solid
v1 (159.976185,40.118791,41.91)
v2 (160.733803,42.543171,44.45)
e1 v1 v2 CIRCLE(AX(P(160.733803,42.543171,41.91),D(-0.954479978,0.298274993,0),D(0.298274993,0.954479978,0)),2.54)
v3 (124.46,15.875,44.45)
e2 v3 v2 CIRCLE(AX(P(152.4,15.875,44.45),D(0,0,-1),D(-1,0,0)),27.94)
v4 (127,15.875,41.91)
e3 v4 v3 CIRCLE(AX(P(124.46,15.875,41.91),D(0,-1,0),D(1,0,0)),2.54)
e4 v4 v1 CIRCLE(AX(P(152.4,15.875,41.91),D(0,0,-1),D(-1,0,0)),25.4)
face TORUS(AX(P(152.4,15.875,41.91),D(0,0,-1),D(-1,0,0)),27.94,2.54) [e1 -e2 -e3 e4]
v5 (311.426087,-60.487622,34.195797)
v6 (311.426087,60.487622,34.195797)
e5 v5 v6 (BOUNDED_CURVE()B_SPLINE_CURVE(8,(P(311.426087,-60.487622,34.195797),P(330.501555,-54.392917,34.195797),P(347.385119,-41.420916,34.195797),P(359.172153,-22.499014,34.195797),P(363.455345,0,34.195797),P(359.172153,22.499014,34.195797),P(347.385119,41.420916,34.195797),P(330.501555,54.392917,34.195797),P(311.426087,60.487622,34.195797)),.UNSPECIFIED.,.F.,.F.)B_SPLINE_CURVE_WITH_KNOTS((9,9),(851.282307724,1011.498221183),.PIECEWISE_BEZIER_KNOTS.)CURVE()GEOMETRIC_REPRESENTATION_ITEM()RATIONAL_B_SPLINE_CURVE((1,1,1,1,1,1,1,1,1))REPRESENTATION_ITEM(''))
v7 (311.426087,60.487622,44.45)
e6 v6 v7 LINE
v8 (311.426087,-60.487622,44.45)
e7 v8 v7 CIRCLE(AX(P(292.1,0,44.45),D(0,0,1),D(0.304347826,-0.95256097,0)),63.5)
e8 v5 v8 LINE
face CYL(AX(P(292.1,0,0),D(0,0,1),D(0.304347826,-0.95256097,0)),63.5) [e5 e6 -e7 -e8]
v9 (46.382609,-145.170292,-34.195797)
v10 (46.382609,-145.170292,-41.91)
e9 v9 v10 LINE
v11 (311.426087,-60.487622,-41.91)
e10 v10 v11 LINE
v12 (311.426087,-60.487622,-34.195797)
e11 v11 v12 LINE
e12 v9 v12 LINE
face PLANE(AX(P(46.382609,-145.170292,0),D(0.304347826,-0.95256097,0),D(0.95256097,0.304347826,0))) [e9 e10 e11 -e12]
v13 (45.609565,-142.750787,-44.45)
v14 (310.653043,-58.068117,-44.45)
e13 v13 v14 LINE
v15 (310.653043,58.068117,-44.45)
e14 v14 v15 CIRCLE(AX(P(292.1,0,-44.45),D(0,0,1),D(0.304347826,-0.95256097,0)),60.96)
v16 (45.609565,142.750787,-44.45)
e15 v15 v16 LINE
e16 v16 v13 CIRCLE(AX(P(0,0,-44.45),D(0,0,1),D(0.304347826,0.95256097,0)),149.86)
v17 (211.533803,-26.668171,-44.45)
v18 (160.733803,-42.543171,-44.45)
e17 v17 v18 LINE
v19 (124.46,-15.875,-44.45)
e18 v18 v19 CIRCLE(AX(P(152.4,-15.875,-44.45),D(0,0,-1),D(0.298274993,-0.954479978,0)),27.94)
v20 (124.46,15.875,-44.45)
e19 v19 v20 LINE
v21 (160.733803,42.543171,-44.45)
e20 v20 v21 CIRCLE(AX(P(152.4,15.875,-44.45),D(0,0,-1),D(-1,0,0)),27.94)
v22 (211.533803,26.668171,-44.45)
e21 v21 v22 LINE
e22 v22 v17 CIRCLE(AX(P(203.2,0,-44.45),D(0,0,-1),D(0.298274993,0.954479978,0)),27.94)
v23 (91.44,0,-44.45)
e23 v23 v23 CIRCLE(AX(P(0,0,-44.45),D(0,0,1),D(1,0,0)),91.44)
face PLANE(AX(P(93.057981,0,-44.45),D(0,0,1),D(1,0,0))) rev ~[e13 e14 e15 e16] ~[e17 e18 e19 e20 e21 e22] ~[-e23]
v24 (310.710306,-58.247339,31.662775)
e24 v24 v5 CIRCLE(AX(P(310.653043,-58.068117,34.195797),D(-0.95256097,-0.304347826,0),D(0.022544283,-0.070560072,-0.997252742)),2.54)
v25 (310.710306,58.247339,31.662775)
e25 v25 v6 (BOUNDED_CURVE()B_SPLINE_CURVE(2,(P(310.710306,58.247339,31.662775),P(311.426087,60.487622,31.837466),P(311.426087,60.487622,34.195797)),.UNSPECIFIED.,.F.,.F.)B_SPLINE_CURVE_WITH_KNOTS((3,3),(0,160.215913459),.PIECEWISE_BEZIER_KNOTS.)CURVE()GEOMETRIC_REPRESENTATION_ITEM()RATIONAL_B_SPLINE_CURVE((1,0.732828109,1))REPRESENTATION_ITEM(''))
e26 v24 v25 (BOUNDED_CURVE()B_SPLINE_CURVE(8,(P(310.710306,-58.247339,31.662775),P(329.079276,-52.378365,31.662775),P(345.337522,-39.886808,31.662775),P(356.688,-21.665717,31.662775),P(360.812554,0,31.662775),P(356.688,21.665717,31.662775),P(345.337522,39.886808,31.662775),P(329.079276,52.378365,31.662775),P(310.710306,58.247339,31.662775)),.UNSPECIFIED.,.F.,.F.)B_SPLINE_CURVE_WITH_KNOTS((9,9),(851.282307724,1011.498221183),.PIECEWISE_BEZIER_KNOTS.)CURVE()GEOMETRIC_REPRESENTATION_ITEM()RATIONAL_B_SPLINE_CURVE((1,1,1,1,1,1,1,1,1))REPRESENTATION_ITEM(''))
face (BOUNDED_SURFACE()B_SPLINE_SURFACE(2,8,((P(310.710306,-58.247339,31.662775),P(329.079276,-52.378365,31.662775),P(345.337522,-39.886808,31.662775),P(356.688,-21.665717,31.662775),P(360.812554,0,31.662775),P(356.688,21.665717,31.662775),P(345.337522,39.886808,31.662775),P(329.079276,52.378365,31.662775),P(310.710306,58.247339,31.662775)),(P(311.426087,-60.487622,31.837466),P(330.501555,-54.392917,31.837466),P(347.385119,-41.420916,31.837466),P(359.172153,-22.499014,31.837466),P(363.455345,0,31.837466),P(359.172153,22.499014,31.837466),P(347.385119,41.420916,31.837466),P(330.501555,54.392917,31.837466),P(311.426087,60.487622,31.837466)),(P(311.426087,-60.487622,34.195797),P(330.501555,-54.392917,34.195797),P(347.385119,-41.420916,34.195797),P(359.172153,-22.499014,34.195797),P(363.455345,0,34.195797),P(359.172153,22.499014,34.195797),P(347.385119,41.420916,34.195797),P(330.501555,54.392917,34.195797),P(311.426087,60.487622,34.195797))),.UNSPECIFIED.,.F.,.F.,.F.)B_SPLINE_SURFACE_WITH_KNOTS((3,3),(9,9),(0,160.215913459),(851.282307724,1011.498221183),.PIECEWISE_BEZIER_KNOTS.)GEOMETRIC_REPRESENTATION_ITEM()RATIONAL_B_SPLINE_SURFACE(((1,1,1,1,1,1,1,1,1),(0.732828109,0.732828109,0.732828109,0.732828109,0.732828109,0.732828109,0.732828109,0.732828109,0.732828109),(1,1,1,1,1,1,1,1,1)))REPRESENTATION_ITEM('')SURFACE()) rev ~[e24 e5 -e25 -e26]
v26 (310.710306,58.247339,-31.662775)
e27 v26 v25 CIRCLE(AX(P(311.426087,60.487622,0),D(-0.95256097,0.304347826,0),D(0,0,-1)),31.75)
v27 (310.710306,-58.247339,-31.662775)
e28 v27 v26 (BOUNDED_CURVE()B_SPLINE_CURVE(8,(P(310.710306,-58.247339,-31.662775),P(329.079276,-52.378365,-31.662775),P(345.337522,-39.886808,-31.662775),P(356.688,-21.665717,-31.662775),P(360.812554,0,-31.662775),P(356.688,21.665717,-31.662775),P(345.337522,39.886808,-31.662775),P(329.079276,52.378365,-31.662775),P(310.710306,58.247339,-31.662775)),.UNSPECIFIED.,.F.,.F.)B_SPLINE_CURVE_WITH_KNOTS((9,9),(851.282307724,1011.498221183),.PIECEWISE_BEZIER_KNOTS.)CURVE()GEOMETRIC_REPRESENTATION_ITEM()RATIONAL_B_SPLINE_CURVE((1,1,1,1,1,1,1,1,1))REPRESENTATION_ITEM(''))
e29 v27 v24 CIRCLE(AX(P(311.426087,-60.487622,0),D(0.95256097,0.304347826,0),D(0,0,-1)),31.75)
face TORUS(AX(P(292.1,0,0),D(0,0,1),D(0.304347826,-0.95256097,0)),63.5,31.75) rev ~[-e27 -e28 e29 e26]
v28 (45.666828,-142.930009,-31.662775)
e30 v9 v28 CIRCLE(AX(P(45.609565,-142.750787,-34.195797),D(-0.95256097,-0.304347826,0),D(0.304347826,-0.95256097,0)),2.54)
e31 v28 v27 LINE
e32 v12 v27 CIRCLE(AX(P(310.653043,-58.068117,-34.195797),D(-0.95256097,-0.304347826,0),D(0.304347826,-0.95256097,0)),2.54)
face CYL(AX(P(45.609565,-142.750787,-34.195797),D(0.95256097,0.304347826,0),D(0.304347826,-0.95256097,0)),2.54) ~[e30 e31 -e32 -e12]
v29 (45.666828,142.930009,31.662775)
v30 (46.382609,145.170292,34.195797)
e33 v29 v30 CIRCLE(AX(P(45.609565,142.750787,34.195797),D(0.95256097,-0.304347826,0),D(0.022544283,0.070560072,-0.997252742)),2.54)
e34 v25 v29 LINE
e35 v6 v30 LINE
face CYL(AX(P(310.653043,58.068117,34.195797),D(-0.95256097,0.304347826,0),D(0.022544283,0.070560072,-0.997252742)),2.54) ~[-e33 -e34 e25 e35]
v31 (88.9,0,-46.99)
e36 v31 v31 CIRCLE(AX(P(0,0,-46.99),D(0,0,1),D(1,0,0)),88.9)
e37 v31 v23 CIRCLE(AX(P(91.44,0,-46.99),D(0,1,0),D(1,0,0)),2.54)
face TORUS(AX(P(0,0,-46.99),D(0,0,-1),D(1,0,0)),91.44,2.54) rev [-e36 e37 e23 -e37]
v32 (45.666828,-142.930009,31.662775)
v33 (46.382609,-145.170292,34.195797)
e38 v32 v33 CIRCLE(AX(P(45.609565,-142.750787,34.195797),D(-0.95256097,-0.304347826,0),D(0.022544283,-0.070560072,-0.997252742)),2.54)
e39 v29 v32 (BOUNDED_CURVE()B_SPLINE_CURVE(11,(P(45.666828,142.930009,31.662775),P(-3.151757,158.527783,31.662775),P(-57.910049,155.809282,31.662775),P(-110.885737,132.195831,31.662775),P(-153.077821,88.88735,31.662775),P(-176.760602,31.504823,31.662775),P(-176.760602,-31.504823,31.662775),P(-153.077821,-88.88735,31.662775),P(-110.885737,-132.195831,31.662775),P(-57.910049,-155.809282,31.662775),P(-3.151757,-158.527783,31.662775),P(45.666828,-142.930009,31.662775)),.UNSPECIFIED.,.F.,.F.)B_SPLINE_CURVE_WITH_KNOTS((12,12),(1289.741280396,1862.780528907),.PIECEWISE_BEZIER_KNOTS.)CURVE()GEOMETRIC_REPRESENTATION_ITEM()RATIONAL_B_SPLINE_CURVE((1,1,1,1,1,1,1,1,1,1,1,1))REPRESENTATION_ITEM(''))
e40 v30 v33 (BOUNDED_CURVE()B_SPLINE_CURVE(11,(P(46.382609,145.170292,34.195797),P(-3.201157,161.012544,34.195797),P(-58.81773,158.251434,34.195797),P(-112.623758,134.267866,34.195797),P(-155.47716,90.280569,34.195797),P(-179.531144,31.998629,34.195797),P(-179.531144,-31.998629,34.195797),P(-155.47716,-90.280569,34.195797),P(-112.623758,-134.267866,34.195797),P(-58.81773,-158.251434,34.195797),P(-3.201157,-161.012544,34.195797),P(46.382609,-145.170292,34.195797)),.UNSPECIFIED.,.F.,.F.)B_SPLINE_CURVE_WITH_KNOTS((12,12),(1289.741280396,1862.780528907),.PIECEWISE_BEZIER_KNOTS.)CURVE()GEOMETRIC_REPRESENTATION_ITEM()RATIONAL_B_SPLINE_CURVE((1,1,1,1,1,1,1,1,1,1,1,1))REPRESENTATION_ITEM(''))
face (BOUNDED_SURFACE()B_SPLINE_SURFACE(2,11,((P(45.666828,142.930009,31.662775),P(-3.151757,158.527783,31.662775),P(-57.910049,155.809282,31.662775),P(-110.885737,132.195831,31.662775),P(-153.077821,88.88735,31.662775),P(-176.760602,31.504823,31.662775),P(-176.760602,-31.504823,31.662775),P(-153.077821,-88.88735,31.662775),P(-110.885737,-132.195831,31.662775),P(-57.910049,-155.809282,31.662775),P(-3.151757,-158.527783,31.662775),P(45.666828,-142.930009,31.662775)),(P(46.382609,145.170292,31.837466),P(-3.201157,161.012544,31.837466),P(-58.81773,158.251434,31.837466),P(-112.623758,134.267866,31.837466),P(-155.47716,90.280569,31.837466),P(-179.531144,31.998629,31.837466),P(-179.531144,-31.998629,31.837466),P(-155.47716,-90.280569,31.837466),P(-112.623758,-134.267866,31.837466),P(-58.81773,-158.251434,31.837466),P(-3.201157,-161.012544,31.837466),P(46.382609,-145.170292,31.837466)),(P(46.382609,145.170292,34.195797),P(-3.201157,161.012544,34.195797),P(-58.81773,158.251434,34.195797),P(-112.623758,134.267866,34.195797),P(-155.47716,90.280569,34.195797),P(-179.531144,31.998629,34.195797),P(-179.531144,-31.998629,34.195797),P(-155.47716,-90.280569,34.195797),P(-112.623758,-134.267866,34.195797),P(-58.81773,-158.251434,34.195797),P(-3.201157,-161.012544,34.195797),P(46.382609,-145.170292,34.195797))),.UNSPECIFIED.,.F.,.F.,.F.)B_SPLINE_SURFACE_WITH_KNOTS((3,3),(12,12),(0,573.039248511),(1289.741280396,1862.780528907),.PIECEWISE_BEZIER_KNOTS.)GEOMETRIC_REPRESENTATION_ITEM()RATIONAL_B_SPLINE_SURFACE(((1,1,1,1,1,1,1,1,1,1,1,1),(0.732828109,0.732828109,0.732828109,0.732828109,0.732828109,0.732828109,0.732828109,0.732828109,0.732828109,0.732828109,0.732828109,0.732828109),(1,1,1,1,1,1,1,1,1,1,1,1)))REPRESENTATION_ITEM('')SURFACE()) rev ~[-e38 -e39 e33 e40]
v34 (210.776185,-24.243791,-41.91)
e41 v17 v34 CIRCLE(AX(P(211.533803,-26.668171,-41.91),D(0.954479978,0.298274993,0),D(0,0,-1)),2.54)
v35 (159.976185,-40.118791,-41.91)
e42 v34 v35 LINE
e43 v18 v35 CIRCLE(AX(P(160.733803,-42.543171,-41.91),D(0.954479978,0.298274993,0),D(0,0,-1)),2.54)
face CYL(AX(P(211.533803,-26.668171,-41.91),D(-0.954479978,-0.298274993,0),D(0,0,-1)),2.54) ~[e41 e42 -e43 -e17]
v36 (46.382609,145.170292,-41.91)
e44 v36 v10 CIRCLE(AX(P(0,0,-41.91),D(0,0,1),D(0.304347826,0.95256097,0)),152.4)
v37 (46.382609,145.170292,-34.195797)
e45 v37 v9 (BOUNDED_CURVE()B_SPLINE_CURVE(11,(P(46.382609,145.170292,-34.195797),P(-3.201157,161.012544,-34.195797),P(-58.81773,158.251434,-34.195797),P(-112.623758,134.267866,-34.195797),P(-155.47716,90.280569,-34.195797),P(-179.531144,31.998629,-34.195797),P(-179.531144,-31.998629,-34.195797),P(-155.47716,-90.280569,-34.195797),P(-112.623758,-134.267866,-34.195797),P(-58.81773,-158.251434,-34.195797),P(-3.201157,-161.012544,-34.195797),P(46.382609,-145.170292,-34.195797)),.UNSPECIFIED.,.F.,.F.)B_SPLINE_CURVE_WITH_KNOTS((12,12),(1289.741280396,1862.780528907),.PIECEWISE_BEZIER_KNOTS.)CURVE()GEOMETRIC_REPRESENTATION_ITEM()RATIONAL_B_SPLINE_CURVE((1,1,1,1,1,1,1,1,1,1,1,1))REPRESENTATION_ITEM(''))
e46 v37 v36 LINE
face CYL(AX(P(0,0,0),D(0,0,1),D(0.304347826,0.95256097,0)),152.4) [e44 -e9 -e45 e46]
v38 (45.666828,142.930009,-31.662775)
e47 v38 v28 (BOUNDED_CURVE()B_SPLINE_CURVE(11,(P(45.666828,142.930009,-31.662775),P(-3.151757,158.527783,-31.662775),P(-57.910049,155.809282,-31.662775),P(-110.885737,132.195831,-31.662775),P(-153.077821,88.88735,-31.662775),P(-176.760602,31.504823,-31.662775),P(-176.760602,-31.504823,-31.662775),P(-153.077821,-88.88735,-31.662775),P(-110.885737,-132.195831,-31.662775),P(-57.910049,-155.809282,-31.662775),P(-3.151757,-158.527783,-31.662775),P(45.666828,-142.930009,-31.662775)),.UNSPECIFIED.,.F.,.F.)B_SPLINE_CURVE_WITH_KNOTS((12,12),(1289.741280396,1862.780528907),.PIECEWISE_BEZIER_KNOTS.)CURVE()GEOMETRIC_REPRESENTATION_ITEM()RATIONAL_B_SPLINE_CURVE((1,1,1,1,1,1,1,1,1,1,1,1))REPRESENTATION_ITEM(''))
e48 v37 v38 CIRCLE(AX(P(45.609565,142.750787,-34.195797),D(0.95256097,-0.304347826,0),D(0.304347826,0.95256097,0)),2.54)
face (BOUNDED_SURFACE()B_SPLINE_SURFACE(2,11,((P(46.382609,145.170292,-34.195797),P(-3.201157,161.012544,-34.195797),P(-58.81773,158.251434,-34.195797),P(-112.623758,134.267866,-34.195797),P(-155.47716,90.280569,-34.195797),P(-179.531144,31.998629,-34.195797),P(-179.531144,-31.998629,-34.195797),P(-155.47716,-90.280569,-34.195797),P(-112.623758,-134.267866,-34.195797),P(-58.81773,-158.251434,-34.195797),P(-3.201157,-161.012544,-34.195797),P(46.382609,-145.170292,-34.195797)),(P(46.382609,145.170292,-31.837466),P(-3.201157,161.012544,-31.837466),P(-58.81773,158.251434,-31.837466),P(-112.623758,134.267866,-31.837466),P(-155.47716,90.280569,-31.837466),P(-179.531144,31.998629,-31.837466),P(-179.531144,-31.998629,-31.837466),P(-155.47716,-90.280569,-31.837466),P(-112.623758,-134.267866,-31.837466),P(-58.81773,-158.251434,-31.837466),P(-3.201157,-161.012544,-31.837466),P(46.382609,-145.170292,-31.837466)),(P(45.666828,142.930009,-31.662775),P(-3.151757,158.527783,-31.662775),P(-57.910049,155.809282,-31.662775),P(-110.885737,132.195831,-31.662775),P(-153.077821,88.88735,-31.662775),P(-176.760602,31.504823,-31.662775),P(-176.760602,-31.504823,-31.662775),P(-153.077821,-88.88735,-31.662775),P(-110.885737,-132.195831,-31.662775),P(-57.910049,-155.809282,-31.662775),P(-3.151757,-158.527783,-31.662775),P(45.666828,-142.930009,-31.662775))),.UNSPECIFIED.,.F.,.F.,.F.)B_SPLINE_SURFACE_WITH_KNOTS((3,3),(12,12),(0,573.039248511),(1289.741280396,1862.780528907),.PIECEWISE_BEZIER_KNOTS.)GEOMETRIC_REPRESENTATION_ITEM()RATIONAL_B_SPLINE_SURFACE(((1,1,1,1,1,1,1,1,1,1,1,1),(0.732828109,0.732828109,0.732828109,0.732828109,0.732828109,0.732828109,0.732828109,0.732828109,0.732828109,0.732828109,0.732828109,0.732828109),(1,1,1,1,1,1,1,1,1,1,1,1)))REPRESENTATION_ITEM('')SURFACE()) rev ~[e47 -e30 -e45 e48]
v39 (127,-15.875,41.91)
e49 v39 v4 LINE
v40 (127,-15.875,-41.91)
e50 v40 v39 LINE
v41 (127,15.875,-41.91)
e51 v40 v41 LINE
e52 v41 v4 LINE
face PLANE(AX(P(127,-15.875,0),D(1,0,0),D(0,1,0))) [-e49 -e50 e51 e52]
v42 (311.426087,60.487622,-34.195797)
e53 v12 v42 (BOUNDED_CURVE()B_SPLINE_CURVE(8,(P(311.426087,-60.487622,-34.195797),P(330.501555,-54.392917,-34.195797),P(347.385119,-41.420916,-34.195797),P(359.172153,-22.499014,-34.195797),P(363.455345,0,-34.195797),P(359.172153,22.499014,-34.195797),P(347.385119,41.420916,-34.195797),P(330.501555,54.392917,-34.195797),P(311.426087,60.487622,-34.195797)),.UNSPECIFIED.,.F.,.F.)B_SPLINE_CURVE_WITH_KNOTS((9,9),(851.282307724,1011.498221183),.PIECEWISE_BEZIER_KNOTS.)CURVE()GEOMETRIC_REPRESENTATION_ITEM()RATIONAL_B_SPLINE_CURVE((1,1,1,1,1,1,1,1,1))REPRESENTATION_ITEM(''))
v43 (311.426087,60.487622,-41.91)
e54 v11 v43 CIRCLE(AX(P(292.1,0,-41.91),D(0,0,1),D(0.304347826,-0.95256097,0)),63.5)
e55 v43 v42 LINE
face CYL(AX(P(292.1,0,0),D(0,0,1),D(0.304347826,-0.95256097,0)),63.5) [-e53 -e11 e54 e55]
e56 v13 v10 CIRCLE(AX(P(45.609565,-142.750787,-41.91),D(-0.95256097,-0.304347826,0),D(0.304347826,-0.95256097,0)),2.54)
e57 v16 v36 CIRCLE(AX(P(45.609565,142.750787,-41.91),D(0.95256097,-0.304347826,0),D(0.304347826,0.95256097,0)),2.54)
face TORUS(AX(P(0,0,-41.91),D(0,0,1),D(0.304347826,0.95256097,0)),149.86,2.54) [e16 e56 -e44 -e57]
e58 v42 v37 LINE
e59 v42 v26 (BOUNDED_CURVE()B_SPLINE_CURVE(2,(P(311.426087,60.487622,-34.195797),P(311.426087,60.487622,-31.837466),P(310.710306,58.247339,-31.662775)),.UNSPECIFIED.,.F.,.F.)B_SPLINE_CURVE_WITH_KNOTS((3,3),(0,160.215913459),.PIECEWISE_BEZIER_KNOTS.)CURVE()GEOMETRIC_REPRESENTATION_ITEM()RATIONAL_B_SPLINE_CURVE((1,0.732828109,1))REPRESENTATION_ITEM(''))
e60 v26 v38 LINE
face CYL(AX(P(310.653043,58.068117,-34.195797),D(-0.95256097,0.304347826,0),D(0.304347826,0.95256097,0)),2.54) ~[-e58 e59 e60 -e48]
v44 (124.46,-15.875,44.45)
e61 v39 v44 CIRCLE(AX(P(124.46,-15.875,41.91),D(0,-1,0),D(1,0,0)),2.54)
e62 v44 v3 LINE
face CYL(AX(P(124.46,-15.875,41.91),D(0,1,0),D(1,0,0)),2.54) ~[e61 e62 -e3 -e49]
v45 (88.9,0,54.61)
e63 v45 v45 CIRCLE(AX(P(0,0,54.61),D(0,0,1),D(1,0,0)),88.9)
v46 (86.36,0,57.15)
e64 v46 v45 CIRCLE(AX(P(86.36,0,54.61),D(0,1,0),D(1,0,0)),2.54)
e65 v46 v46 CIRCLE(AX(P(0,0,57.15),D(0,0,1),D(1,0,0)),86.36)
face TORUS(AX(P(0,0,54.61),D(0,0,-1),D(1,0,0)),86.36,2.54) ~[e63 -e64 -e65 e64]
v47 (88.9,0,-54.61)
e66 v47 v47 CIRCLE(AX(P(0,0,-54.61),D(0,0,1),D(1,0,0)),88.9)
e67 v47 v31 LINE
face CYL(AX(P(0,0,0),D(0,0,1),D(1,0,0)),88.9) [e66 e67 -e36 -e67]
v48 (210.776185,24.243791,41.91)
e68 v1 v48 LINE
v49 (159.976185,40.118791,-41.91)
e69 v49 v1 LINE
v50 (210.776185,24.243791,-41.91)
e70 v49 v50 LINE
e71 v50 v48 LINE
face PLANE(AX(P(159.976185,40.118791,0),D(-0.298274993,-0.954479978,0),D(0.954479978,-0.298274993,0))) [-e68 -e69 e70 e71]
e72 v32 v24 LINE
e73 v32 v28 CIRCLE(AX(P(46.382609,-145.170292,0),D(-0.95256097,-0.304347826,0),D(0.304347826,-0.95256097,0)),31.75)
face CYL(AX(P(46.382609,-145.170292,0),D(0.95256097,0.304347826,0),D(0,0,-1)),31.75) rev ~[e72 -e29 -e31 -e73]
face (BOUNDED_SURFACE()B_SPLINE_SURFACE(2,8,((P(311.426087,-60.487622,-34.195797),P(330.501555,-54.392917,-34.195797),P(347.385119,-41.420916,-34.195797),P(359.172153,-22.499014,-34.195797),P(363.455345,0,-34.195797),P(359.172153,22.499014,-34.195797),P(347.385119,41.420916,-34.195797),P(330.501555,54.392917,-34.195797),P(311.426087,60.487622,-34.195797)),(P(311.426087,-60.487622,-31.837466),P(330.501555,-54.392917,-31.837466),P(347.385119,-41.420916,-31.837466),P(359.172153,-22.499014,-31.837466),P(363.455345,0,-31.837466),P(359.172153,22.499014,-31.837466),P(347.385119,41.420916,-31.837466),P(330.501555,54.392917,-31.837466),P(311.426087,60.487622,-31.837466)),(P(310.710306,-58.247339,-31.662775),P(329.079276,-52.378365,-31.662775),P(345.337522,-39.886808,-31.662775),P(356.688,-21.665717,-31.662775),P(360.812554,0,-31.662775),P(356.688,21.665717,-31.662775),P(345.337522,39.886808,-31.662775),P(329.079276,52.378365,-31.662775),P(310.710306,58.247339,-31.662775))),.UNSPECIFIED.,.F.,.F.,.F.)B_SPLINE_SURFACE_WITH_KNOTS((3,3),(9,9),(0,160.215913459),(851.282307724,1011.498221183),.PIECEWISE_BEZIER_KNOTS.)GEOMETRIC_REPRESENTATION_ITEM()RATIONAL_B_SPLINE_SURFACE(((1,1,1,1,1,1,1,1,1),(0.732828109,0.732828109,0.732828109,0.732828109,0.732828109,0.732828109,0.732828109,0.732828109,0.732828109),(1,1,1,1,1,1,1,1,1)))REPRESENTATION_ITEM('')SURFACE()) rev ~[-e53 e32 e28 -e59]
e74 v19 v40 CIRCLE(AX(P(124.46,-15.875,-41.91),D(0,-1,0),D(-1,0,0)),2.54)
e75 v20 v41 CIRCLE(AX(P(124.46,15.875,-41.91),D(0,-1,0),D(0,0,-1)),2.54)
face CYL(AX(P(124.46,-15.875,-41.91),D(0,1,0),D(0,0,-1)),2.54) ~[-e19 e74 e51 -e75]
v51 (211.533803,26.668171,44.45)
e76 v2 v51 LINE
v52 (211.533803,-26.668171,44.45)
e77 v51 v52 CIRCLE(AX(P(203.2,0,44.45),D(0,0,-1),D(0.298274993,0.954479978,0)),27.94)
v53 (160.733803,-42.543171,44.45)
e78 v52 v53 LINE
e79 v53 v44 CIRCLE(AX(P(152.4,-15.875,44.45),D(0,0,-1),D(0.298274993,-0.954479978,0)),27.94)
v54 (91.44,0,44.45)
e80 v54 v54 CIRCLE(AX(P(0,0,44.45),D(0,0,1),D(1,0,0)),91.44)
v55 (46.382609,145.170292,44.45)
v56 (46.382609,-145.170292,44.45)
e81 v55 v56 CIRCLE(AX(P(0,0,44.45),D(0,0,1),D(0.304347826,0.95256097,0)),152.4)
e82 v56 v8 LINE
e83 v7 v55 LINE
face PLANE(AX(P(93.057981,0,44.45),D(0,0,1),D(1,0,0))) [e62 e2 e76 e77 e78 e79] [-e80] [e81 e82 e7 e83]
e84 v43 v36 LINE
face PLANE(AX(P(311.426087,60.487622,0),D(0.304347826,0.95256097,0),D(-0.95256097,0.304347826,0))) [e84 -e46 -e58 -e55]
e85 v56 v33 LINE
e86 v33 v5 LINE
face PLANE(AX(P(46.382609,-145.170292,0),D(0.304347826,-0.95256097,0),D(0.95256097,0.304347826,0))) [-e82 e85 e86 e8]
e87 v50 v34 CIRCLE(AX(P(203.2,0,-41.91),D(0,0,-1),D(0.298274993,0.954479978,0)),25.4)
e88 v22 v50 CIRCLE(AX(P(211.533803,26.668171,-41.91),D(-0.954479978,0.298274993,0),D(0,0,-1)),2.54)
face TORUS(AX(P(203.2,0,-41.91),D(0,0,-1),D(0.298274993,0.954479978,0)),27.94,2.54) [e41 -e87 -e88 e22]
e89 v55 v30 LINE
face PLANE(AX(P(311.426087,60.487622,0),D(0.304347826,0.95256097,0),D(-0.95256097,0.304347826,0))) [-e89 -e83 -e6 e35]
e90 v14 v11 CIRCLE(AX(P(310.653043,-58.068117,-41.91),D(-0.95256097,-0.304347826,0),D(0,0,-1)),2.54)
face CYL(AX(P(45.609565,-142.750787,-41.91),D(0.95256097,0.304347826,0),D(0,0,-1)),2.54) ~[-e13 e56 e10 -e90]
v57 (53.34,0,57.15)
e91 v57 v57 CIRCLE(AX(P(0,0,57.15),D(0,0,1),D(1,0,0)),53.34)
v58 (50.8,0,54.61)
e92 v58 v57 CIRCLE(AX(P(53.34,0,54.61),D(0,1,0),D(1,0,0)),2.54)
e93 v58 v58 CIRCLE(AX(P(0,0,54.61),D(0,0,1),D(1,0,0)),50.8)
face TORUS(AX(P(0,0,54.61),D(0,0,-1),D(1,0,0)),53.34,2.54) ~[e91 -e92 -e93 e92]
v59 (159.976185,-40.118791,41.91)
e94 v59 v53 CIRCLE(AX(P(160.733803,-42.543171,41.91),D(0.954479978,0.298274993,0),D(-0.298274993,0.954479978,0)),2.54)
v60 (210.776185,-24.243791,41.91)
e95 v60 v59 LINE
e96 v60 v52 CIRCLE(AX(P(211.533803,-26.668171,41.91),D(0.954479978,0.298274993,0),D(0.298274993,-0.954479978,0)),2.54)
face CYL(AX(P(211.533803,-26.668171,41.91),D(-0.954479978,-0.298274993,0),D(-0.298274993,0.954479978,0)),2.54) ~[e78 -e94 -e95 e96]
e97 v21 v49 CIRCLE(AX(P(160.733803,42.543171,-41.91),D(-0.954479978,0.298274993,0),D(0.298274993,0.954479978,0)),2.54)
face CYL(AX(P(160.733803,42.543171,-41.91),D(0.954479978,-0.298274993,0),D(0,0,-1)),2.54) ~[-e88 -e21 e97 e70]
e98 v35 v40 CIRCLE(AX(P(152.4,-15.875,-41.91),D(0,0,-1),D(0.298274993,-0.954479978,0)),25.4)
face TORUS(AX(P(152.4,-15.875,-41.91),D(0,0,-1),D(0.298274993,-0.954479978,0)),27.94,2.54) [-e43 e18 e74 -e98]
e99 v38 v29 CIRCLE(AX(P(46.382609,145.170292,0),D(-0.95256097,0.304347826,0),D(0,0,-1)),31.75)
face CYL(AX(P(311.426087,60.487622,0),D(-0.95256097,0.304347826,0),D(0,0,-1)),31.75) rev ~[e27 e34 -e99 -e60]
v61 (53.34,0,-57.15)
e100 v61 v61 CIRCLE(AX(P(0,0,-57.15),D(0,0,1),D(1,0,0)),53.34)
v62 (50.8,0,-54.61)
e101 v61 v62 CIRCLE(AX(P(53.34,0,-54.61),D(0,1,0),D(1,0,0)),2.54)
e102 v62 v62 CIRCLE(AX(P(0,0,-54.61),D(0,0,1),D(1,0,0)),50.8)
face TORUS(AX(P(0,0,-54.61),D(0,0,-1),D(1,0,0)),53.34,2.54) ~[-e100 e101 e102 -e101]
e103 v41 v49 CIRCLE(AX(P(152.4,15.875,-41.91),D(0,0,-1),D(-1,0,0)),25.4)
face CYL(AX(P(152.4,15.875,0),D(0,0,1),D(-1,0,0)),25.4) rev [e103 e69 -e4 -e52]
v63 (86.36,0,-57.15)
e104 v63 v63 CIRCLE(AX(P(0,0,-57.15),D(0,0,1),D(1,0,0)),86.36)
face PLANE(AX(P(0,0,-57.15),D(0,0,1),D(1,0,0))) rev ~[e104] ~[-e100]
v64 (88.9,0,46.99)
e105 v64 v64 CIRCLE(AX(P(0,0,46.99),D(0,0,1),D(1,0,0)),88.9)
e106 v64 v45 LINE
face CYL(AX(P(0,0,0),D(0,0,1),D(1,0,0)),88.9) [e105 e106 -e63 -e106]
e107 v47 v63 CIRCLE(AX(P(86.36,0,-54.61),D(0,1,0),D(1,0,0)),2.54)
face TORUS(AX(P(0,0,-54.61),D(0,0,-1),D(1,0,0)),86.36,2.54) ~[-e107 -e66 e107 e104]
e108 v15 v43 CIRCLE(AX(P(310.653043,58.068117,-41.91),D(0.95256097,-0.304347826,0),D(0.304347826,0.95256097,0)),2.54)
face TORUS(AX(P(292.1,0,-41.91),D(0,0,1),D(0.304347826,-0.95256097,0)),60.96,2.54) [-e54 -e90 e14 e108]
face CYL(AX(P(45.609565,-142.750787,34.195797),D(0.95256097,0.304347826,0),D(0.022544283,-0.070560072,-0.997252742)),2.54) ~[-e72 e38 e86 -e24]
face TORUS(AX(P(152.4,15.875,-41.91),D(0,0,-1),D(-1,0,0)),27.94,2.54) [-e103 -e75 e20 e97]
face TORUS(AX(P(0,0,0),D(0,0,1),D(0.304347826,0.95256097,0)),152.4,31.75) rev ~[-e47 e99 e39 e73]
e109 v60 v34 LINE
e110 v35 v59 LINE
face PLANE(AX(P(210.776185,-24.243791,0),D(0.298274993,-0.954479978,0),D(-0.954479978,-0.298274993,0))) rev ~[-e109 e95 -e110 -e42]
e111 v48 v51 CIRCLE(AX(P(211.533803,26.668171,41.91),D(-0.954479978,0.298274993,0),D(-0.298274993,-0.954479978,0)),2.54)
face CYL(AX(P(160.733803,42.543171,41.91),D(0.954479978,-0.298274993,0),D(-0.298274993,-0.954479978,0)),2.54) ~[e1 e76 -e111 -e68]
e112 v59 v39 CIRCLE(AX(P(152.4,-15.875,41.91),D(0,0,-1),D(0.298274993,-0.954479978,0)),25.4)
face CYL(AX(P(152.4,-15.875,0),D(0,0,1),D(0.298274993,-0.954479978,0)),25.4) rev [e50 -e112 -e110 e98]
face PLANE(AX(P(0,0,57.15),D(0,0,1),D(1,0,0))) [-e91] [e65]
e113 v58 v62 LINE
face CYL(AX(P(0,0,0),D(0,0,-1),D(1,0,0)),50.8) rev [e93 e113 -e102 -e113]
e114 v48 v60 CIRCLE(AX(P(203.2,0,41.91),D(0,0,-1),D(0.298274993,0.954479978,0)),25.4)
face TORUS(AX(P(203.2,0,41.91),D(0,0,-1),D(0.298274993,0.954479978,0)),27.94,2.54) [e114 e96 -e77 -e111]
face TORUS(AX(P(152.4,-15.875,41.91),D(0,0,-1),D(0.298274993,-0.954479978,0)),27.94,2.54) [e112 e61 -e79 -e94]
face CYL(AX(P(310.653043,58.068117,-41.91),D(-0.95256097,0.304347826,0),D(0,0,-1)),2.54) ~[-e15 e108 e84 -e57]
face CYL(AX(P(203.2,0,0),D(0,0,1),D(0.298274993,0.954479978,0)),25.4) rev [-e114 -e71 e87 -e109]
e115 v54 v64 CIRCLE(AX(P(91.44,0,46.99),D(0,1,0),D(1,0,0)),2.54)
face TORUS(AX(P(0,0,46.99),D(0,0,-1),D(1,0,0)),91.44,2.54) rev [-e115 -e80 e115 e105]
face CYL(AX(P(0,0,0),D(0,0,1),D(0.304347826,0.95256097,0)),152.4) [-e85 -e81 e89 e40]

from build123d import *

# Parameters (mm, degrees)
SKETCH1_R           = 88.9
BOSS_EXTRUDE1_DEPTH = 44.45
SKETCH1_3_R         = 88.9
SKETCH1_3_R_2       = 50.8
BOSS_EXTRUDE2_DEPTH = 57.15
SKETCH5_R           = 31.75
FILLET1_R           = 2.54


with BuildPart() as part:
    # Sketch1 → Boss-Extrude1 (new, symmetric)
    with BuildSketch(Plane.XY):
        with BuildLine():
            Line((46.382608696, -145.170291763), (311.426086957, -60.487621568))
            ThreePointArc((311.426086957, -60.487621568), (355.6, 0), (311.426086957, 60.487621568))
            Line((311.426086957, 60.487621568), (46.382608696, 145.170291763))
            ThreePointArc((46.382608696, 145.170291763), (-152.4, 0), (46.382608696, -145.170291763))
        make_face()
        Circle(SKETCH1_R, mode=Mode.SUBTRACT)
        with BuildLine():
            Line((210.776184826, -24.243791442), (159.976184826, -40.118791442))
            ThreePointArc((159.976184826, -40.118791442), (137.354653453, -36.339543662), (127, -15.875))
            Line((127, -15.875), (127, 15.875))
            ThreePointArc((127, 15.875), (137.354653453, 36.339543662), (159.976184826, 40.118791442))
            Line((159.976184826, 40.118791442), (210.776184826, 24.243791442))
            ThreePointArc((210.776184826, 24.243791442), (228.6, 0), (210.776184826, -24.243791442))
        make_face(mode=Mode.SUBTRACT)
    extrude(amount=BOSS_EXTRUDE1_DEPTH, both=True)

    # Sketch1<3> → Boss-Extrude2 (add, symmetric)
    with BuildSketch(Plane.XY):
        Circle(SKETCH1_3_R)
        Circle(SKETCH1_3_R_2, mode=Mode.SUBTRACT)
    extrude(amount=BOSS_EXTRUDE2_DEPTH, both=True)

    # Cut-Sweep2: sweep along a curve in space
    with BuildLine() as cut_sweep2_path:
        Line((311.426086957, 60.487621568, 0), (46.382608696, 145.170291763, 0))
        ThreePointArc((46.382608696, 145.170291763, 0), (-152.4, 0, 0), (46.382608696, -145.170291763, 0))
        Line((46.382608696, -145.170291763, 0), (311.426086957, -60.487621568, 0))
        ThreePointArc((311.426086957, -60.487621568, 0), (355.6, 0, 0), (311.426086957, 60.487621568, 0))
    # Sketch5 → Cut-Sweep2 (sweep, cut)
    with BuildSketch(Plane(origin=(0, 0, 0), x_dir=(0, 0, -1), z_dir=(1, 0, 0))):
        with Locations((0, 152.4)):
            Circle(SKETCH5_R)
    sweep(path=cut_sweep2_path.line, mode=Mode.SUBTRACT)

    # Fillet1
    fillet1_edges = [part.edges().sort_by_distance(p)[0] for p in [
        (127, 0, 44.45),
        (-152.4, 0, -44.45),
        (178.904347826, 102.828956666, -44.45),
        (355.6, 0, -44.45),
        (178.904347826, -102.828956666, -44.45),
        (185.376184826, -32.181291442, -44.45),
        (137.354653453, 36.339543662, 44.45),
        (228.6, 0, -44.45),
        (185.376184826, 32.181291442, -44.45),
        (137.354653453, 36.339543662, -44.45),
        (127, 0, -44.45),
        (137.354653453, -36.339543662, -44.45),
        (185.376184826, 32.181291442, 44.45),
        (228.6, 0, 44.45),
        (185.376184826, -32.181291442, 44.45),
        (-88.9, 0, 44.45),
        (-88.9, 0, -57.15),
        (-88.9, 0, -44.45),
        (-50.8, 0, 57.15),
        (-88.9, 0, 57.15),
        (-50.8, 0, -57.15),
        (-152.4, 0, 31.75),
        (-152.4, 0, 31.75),
        (-152.4, 0, -31.75),
        (-152.4, 0, -31.75),
        (178.904347826, 102.828956666, -31.75),
        (178.904347826, 102.828956666, 31.75),
        (178.904347826, -102.828956666, 31.75),
        (178.904347826, -102.828956666, -31.75),
        (355.6, 0, -31.75),
        (355.6, 0, 31.75),
        (137.354653453, -36.339543662, 44.45),
    ]]
    fillet(fillet1_edges, radius=FILLET1_R)


solid = part.part
